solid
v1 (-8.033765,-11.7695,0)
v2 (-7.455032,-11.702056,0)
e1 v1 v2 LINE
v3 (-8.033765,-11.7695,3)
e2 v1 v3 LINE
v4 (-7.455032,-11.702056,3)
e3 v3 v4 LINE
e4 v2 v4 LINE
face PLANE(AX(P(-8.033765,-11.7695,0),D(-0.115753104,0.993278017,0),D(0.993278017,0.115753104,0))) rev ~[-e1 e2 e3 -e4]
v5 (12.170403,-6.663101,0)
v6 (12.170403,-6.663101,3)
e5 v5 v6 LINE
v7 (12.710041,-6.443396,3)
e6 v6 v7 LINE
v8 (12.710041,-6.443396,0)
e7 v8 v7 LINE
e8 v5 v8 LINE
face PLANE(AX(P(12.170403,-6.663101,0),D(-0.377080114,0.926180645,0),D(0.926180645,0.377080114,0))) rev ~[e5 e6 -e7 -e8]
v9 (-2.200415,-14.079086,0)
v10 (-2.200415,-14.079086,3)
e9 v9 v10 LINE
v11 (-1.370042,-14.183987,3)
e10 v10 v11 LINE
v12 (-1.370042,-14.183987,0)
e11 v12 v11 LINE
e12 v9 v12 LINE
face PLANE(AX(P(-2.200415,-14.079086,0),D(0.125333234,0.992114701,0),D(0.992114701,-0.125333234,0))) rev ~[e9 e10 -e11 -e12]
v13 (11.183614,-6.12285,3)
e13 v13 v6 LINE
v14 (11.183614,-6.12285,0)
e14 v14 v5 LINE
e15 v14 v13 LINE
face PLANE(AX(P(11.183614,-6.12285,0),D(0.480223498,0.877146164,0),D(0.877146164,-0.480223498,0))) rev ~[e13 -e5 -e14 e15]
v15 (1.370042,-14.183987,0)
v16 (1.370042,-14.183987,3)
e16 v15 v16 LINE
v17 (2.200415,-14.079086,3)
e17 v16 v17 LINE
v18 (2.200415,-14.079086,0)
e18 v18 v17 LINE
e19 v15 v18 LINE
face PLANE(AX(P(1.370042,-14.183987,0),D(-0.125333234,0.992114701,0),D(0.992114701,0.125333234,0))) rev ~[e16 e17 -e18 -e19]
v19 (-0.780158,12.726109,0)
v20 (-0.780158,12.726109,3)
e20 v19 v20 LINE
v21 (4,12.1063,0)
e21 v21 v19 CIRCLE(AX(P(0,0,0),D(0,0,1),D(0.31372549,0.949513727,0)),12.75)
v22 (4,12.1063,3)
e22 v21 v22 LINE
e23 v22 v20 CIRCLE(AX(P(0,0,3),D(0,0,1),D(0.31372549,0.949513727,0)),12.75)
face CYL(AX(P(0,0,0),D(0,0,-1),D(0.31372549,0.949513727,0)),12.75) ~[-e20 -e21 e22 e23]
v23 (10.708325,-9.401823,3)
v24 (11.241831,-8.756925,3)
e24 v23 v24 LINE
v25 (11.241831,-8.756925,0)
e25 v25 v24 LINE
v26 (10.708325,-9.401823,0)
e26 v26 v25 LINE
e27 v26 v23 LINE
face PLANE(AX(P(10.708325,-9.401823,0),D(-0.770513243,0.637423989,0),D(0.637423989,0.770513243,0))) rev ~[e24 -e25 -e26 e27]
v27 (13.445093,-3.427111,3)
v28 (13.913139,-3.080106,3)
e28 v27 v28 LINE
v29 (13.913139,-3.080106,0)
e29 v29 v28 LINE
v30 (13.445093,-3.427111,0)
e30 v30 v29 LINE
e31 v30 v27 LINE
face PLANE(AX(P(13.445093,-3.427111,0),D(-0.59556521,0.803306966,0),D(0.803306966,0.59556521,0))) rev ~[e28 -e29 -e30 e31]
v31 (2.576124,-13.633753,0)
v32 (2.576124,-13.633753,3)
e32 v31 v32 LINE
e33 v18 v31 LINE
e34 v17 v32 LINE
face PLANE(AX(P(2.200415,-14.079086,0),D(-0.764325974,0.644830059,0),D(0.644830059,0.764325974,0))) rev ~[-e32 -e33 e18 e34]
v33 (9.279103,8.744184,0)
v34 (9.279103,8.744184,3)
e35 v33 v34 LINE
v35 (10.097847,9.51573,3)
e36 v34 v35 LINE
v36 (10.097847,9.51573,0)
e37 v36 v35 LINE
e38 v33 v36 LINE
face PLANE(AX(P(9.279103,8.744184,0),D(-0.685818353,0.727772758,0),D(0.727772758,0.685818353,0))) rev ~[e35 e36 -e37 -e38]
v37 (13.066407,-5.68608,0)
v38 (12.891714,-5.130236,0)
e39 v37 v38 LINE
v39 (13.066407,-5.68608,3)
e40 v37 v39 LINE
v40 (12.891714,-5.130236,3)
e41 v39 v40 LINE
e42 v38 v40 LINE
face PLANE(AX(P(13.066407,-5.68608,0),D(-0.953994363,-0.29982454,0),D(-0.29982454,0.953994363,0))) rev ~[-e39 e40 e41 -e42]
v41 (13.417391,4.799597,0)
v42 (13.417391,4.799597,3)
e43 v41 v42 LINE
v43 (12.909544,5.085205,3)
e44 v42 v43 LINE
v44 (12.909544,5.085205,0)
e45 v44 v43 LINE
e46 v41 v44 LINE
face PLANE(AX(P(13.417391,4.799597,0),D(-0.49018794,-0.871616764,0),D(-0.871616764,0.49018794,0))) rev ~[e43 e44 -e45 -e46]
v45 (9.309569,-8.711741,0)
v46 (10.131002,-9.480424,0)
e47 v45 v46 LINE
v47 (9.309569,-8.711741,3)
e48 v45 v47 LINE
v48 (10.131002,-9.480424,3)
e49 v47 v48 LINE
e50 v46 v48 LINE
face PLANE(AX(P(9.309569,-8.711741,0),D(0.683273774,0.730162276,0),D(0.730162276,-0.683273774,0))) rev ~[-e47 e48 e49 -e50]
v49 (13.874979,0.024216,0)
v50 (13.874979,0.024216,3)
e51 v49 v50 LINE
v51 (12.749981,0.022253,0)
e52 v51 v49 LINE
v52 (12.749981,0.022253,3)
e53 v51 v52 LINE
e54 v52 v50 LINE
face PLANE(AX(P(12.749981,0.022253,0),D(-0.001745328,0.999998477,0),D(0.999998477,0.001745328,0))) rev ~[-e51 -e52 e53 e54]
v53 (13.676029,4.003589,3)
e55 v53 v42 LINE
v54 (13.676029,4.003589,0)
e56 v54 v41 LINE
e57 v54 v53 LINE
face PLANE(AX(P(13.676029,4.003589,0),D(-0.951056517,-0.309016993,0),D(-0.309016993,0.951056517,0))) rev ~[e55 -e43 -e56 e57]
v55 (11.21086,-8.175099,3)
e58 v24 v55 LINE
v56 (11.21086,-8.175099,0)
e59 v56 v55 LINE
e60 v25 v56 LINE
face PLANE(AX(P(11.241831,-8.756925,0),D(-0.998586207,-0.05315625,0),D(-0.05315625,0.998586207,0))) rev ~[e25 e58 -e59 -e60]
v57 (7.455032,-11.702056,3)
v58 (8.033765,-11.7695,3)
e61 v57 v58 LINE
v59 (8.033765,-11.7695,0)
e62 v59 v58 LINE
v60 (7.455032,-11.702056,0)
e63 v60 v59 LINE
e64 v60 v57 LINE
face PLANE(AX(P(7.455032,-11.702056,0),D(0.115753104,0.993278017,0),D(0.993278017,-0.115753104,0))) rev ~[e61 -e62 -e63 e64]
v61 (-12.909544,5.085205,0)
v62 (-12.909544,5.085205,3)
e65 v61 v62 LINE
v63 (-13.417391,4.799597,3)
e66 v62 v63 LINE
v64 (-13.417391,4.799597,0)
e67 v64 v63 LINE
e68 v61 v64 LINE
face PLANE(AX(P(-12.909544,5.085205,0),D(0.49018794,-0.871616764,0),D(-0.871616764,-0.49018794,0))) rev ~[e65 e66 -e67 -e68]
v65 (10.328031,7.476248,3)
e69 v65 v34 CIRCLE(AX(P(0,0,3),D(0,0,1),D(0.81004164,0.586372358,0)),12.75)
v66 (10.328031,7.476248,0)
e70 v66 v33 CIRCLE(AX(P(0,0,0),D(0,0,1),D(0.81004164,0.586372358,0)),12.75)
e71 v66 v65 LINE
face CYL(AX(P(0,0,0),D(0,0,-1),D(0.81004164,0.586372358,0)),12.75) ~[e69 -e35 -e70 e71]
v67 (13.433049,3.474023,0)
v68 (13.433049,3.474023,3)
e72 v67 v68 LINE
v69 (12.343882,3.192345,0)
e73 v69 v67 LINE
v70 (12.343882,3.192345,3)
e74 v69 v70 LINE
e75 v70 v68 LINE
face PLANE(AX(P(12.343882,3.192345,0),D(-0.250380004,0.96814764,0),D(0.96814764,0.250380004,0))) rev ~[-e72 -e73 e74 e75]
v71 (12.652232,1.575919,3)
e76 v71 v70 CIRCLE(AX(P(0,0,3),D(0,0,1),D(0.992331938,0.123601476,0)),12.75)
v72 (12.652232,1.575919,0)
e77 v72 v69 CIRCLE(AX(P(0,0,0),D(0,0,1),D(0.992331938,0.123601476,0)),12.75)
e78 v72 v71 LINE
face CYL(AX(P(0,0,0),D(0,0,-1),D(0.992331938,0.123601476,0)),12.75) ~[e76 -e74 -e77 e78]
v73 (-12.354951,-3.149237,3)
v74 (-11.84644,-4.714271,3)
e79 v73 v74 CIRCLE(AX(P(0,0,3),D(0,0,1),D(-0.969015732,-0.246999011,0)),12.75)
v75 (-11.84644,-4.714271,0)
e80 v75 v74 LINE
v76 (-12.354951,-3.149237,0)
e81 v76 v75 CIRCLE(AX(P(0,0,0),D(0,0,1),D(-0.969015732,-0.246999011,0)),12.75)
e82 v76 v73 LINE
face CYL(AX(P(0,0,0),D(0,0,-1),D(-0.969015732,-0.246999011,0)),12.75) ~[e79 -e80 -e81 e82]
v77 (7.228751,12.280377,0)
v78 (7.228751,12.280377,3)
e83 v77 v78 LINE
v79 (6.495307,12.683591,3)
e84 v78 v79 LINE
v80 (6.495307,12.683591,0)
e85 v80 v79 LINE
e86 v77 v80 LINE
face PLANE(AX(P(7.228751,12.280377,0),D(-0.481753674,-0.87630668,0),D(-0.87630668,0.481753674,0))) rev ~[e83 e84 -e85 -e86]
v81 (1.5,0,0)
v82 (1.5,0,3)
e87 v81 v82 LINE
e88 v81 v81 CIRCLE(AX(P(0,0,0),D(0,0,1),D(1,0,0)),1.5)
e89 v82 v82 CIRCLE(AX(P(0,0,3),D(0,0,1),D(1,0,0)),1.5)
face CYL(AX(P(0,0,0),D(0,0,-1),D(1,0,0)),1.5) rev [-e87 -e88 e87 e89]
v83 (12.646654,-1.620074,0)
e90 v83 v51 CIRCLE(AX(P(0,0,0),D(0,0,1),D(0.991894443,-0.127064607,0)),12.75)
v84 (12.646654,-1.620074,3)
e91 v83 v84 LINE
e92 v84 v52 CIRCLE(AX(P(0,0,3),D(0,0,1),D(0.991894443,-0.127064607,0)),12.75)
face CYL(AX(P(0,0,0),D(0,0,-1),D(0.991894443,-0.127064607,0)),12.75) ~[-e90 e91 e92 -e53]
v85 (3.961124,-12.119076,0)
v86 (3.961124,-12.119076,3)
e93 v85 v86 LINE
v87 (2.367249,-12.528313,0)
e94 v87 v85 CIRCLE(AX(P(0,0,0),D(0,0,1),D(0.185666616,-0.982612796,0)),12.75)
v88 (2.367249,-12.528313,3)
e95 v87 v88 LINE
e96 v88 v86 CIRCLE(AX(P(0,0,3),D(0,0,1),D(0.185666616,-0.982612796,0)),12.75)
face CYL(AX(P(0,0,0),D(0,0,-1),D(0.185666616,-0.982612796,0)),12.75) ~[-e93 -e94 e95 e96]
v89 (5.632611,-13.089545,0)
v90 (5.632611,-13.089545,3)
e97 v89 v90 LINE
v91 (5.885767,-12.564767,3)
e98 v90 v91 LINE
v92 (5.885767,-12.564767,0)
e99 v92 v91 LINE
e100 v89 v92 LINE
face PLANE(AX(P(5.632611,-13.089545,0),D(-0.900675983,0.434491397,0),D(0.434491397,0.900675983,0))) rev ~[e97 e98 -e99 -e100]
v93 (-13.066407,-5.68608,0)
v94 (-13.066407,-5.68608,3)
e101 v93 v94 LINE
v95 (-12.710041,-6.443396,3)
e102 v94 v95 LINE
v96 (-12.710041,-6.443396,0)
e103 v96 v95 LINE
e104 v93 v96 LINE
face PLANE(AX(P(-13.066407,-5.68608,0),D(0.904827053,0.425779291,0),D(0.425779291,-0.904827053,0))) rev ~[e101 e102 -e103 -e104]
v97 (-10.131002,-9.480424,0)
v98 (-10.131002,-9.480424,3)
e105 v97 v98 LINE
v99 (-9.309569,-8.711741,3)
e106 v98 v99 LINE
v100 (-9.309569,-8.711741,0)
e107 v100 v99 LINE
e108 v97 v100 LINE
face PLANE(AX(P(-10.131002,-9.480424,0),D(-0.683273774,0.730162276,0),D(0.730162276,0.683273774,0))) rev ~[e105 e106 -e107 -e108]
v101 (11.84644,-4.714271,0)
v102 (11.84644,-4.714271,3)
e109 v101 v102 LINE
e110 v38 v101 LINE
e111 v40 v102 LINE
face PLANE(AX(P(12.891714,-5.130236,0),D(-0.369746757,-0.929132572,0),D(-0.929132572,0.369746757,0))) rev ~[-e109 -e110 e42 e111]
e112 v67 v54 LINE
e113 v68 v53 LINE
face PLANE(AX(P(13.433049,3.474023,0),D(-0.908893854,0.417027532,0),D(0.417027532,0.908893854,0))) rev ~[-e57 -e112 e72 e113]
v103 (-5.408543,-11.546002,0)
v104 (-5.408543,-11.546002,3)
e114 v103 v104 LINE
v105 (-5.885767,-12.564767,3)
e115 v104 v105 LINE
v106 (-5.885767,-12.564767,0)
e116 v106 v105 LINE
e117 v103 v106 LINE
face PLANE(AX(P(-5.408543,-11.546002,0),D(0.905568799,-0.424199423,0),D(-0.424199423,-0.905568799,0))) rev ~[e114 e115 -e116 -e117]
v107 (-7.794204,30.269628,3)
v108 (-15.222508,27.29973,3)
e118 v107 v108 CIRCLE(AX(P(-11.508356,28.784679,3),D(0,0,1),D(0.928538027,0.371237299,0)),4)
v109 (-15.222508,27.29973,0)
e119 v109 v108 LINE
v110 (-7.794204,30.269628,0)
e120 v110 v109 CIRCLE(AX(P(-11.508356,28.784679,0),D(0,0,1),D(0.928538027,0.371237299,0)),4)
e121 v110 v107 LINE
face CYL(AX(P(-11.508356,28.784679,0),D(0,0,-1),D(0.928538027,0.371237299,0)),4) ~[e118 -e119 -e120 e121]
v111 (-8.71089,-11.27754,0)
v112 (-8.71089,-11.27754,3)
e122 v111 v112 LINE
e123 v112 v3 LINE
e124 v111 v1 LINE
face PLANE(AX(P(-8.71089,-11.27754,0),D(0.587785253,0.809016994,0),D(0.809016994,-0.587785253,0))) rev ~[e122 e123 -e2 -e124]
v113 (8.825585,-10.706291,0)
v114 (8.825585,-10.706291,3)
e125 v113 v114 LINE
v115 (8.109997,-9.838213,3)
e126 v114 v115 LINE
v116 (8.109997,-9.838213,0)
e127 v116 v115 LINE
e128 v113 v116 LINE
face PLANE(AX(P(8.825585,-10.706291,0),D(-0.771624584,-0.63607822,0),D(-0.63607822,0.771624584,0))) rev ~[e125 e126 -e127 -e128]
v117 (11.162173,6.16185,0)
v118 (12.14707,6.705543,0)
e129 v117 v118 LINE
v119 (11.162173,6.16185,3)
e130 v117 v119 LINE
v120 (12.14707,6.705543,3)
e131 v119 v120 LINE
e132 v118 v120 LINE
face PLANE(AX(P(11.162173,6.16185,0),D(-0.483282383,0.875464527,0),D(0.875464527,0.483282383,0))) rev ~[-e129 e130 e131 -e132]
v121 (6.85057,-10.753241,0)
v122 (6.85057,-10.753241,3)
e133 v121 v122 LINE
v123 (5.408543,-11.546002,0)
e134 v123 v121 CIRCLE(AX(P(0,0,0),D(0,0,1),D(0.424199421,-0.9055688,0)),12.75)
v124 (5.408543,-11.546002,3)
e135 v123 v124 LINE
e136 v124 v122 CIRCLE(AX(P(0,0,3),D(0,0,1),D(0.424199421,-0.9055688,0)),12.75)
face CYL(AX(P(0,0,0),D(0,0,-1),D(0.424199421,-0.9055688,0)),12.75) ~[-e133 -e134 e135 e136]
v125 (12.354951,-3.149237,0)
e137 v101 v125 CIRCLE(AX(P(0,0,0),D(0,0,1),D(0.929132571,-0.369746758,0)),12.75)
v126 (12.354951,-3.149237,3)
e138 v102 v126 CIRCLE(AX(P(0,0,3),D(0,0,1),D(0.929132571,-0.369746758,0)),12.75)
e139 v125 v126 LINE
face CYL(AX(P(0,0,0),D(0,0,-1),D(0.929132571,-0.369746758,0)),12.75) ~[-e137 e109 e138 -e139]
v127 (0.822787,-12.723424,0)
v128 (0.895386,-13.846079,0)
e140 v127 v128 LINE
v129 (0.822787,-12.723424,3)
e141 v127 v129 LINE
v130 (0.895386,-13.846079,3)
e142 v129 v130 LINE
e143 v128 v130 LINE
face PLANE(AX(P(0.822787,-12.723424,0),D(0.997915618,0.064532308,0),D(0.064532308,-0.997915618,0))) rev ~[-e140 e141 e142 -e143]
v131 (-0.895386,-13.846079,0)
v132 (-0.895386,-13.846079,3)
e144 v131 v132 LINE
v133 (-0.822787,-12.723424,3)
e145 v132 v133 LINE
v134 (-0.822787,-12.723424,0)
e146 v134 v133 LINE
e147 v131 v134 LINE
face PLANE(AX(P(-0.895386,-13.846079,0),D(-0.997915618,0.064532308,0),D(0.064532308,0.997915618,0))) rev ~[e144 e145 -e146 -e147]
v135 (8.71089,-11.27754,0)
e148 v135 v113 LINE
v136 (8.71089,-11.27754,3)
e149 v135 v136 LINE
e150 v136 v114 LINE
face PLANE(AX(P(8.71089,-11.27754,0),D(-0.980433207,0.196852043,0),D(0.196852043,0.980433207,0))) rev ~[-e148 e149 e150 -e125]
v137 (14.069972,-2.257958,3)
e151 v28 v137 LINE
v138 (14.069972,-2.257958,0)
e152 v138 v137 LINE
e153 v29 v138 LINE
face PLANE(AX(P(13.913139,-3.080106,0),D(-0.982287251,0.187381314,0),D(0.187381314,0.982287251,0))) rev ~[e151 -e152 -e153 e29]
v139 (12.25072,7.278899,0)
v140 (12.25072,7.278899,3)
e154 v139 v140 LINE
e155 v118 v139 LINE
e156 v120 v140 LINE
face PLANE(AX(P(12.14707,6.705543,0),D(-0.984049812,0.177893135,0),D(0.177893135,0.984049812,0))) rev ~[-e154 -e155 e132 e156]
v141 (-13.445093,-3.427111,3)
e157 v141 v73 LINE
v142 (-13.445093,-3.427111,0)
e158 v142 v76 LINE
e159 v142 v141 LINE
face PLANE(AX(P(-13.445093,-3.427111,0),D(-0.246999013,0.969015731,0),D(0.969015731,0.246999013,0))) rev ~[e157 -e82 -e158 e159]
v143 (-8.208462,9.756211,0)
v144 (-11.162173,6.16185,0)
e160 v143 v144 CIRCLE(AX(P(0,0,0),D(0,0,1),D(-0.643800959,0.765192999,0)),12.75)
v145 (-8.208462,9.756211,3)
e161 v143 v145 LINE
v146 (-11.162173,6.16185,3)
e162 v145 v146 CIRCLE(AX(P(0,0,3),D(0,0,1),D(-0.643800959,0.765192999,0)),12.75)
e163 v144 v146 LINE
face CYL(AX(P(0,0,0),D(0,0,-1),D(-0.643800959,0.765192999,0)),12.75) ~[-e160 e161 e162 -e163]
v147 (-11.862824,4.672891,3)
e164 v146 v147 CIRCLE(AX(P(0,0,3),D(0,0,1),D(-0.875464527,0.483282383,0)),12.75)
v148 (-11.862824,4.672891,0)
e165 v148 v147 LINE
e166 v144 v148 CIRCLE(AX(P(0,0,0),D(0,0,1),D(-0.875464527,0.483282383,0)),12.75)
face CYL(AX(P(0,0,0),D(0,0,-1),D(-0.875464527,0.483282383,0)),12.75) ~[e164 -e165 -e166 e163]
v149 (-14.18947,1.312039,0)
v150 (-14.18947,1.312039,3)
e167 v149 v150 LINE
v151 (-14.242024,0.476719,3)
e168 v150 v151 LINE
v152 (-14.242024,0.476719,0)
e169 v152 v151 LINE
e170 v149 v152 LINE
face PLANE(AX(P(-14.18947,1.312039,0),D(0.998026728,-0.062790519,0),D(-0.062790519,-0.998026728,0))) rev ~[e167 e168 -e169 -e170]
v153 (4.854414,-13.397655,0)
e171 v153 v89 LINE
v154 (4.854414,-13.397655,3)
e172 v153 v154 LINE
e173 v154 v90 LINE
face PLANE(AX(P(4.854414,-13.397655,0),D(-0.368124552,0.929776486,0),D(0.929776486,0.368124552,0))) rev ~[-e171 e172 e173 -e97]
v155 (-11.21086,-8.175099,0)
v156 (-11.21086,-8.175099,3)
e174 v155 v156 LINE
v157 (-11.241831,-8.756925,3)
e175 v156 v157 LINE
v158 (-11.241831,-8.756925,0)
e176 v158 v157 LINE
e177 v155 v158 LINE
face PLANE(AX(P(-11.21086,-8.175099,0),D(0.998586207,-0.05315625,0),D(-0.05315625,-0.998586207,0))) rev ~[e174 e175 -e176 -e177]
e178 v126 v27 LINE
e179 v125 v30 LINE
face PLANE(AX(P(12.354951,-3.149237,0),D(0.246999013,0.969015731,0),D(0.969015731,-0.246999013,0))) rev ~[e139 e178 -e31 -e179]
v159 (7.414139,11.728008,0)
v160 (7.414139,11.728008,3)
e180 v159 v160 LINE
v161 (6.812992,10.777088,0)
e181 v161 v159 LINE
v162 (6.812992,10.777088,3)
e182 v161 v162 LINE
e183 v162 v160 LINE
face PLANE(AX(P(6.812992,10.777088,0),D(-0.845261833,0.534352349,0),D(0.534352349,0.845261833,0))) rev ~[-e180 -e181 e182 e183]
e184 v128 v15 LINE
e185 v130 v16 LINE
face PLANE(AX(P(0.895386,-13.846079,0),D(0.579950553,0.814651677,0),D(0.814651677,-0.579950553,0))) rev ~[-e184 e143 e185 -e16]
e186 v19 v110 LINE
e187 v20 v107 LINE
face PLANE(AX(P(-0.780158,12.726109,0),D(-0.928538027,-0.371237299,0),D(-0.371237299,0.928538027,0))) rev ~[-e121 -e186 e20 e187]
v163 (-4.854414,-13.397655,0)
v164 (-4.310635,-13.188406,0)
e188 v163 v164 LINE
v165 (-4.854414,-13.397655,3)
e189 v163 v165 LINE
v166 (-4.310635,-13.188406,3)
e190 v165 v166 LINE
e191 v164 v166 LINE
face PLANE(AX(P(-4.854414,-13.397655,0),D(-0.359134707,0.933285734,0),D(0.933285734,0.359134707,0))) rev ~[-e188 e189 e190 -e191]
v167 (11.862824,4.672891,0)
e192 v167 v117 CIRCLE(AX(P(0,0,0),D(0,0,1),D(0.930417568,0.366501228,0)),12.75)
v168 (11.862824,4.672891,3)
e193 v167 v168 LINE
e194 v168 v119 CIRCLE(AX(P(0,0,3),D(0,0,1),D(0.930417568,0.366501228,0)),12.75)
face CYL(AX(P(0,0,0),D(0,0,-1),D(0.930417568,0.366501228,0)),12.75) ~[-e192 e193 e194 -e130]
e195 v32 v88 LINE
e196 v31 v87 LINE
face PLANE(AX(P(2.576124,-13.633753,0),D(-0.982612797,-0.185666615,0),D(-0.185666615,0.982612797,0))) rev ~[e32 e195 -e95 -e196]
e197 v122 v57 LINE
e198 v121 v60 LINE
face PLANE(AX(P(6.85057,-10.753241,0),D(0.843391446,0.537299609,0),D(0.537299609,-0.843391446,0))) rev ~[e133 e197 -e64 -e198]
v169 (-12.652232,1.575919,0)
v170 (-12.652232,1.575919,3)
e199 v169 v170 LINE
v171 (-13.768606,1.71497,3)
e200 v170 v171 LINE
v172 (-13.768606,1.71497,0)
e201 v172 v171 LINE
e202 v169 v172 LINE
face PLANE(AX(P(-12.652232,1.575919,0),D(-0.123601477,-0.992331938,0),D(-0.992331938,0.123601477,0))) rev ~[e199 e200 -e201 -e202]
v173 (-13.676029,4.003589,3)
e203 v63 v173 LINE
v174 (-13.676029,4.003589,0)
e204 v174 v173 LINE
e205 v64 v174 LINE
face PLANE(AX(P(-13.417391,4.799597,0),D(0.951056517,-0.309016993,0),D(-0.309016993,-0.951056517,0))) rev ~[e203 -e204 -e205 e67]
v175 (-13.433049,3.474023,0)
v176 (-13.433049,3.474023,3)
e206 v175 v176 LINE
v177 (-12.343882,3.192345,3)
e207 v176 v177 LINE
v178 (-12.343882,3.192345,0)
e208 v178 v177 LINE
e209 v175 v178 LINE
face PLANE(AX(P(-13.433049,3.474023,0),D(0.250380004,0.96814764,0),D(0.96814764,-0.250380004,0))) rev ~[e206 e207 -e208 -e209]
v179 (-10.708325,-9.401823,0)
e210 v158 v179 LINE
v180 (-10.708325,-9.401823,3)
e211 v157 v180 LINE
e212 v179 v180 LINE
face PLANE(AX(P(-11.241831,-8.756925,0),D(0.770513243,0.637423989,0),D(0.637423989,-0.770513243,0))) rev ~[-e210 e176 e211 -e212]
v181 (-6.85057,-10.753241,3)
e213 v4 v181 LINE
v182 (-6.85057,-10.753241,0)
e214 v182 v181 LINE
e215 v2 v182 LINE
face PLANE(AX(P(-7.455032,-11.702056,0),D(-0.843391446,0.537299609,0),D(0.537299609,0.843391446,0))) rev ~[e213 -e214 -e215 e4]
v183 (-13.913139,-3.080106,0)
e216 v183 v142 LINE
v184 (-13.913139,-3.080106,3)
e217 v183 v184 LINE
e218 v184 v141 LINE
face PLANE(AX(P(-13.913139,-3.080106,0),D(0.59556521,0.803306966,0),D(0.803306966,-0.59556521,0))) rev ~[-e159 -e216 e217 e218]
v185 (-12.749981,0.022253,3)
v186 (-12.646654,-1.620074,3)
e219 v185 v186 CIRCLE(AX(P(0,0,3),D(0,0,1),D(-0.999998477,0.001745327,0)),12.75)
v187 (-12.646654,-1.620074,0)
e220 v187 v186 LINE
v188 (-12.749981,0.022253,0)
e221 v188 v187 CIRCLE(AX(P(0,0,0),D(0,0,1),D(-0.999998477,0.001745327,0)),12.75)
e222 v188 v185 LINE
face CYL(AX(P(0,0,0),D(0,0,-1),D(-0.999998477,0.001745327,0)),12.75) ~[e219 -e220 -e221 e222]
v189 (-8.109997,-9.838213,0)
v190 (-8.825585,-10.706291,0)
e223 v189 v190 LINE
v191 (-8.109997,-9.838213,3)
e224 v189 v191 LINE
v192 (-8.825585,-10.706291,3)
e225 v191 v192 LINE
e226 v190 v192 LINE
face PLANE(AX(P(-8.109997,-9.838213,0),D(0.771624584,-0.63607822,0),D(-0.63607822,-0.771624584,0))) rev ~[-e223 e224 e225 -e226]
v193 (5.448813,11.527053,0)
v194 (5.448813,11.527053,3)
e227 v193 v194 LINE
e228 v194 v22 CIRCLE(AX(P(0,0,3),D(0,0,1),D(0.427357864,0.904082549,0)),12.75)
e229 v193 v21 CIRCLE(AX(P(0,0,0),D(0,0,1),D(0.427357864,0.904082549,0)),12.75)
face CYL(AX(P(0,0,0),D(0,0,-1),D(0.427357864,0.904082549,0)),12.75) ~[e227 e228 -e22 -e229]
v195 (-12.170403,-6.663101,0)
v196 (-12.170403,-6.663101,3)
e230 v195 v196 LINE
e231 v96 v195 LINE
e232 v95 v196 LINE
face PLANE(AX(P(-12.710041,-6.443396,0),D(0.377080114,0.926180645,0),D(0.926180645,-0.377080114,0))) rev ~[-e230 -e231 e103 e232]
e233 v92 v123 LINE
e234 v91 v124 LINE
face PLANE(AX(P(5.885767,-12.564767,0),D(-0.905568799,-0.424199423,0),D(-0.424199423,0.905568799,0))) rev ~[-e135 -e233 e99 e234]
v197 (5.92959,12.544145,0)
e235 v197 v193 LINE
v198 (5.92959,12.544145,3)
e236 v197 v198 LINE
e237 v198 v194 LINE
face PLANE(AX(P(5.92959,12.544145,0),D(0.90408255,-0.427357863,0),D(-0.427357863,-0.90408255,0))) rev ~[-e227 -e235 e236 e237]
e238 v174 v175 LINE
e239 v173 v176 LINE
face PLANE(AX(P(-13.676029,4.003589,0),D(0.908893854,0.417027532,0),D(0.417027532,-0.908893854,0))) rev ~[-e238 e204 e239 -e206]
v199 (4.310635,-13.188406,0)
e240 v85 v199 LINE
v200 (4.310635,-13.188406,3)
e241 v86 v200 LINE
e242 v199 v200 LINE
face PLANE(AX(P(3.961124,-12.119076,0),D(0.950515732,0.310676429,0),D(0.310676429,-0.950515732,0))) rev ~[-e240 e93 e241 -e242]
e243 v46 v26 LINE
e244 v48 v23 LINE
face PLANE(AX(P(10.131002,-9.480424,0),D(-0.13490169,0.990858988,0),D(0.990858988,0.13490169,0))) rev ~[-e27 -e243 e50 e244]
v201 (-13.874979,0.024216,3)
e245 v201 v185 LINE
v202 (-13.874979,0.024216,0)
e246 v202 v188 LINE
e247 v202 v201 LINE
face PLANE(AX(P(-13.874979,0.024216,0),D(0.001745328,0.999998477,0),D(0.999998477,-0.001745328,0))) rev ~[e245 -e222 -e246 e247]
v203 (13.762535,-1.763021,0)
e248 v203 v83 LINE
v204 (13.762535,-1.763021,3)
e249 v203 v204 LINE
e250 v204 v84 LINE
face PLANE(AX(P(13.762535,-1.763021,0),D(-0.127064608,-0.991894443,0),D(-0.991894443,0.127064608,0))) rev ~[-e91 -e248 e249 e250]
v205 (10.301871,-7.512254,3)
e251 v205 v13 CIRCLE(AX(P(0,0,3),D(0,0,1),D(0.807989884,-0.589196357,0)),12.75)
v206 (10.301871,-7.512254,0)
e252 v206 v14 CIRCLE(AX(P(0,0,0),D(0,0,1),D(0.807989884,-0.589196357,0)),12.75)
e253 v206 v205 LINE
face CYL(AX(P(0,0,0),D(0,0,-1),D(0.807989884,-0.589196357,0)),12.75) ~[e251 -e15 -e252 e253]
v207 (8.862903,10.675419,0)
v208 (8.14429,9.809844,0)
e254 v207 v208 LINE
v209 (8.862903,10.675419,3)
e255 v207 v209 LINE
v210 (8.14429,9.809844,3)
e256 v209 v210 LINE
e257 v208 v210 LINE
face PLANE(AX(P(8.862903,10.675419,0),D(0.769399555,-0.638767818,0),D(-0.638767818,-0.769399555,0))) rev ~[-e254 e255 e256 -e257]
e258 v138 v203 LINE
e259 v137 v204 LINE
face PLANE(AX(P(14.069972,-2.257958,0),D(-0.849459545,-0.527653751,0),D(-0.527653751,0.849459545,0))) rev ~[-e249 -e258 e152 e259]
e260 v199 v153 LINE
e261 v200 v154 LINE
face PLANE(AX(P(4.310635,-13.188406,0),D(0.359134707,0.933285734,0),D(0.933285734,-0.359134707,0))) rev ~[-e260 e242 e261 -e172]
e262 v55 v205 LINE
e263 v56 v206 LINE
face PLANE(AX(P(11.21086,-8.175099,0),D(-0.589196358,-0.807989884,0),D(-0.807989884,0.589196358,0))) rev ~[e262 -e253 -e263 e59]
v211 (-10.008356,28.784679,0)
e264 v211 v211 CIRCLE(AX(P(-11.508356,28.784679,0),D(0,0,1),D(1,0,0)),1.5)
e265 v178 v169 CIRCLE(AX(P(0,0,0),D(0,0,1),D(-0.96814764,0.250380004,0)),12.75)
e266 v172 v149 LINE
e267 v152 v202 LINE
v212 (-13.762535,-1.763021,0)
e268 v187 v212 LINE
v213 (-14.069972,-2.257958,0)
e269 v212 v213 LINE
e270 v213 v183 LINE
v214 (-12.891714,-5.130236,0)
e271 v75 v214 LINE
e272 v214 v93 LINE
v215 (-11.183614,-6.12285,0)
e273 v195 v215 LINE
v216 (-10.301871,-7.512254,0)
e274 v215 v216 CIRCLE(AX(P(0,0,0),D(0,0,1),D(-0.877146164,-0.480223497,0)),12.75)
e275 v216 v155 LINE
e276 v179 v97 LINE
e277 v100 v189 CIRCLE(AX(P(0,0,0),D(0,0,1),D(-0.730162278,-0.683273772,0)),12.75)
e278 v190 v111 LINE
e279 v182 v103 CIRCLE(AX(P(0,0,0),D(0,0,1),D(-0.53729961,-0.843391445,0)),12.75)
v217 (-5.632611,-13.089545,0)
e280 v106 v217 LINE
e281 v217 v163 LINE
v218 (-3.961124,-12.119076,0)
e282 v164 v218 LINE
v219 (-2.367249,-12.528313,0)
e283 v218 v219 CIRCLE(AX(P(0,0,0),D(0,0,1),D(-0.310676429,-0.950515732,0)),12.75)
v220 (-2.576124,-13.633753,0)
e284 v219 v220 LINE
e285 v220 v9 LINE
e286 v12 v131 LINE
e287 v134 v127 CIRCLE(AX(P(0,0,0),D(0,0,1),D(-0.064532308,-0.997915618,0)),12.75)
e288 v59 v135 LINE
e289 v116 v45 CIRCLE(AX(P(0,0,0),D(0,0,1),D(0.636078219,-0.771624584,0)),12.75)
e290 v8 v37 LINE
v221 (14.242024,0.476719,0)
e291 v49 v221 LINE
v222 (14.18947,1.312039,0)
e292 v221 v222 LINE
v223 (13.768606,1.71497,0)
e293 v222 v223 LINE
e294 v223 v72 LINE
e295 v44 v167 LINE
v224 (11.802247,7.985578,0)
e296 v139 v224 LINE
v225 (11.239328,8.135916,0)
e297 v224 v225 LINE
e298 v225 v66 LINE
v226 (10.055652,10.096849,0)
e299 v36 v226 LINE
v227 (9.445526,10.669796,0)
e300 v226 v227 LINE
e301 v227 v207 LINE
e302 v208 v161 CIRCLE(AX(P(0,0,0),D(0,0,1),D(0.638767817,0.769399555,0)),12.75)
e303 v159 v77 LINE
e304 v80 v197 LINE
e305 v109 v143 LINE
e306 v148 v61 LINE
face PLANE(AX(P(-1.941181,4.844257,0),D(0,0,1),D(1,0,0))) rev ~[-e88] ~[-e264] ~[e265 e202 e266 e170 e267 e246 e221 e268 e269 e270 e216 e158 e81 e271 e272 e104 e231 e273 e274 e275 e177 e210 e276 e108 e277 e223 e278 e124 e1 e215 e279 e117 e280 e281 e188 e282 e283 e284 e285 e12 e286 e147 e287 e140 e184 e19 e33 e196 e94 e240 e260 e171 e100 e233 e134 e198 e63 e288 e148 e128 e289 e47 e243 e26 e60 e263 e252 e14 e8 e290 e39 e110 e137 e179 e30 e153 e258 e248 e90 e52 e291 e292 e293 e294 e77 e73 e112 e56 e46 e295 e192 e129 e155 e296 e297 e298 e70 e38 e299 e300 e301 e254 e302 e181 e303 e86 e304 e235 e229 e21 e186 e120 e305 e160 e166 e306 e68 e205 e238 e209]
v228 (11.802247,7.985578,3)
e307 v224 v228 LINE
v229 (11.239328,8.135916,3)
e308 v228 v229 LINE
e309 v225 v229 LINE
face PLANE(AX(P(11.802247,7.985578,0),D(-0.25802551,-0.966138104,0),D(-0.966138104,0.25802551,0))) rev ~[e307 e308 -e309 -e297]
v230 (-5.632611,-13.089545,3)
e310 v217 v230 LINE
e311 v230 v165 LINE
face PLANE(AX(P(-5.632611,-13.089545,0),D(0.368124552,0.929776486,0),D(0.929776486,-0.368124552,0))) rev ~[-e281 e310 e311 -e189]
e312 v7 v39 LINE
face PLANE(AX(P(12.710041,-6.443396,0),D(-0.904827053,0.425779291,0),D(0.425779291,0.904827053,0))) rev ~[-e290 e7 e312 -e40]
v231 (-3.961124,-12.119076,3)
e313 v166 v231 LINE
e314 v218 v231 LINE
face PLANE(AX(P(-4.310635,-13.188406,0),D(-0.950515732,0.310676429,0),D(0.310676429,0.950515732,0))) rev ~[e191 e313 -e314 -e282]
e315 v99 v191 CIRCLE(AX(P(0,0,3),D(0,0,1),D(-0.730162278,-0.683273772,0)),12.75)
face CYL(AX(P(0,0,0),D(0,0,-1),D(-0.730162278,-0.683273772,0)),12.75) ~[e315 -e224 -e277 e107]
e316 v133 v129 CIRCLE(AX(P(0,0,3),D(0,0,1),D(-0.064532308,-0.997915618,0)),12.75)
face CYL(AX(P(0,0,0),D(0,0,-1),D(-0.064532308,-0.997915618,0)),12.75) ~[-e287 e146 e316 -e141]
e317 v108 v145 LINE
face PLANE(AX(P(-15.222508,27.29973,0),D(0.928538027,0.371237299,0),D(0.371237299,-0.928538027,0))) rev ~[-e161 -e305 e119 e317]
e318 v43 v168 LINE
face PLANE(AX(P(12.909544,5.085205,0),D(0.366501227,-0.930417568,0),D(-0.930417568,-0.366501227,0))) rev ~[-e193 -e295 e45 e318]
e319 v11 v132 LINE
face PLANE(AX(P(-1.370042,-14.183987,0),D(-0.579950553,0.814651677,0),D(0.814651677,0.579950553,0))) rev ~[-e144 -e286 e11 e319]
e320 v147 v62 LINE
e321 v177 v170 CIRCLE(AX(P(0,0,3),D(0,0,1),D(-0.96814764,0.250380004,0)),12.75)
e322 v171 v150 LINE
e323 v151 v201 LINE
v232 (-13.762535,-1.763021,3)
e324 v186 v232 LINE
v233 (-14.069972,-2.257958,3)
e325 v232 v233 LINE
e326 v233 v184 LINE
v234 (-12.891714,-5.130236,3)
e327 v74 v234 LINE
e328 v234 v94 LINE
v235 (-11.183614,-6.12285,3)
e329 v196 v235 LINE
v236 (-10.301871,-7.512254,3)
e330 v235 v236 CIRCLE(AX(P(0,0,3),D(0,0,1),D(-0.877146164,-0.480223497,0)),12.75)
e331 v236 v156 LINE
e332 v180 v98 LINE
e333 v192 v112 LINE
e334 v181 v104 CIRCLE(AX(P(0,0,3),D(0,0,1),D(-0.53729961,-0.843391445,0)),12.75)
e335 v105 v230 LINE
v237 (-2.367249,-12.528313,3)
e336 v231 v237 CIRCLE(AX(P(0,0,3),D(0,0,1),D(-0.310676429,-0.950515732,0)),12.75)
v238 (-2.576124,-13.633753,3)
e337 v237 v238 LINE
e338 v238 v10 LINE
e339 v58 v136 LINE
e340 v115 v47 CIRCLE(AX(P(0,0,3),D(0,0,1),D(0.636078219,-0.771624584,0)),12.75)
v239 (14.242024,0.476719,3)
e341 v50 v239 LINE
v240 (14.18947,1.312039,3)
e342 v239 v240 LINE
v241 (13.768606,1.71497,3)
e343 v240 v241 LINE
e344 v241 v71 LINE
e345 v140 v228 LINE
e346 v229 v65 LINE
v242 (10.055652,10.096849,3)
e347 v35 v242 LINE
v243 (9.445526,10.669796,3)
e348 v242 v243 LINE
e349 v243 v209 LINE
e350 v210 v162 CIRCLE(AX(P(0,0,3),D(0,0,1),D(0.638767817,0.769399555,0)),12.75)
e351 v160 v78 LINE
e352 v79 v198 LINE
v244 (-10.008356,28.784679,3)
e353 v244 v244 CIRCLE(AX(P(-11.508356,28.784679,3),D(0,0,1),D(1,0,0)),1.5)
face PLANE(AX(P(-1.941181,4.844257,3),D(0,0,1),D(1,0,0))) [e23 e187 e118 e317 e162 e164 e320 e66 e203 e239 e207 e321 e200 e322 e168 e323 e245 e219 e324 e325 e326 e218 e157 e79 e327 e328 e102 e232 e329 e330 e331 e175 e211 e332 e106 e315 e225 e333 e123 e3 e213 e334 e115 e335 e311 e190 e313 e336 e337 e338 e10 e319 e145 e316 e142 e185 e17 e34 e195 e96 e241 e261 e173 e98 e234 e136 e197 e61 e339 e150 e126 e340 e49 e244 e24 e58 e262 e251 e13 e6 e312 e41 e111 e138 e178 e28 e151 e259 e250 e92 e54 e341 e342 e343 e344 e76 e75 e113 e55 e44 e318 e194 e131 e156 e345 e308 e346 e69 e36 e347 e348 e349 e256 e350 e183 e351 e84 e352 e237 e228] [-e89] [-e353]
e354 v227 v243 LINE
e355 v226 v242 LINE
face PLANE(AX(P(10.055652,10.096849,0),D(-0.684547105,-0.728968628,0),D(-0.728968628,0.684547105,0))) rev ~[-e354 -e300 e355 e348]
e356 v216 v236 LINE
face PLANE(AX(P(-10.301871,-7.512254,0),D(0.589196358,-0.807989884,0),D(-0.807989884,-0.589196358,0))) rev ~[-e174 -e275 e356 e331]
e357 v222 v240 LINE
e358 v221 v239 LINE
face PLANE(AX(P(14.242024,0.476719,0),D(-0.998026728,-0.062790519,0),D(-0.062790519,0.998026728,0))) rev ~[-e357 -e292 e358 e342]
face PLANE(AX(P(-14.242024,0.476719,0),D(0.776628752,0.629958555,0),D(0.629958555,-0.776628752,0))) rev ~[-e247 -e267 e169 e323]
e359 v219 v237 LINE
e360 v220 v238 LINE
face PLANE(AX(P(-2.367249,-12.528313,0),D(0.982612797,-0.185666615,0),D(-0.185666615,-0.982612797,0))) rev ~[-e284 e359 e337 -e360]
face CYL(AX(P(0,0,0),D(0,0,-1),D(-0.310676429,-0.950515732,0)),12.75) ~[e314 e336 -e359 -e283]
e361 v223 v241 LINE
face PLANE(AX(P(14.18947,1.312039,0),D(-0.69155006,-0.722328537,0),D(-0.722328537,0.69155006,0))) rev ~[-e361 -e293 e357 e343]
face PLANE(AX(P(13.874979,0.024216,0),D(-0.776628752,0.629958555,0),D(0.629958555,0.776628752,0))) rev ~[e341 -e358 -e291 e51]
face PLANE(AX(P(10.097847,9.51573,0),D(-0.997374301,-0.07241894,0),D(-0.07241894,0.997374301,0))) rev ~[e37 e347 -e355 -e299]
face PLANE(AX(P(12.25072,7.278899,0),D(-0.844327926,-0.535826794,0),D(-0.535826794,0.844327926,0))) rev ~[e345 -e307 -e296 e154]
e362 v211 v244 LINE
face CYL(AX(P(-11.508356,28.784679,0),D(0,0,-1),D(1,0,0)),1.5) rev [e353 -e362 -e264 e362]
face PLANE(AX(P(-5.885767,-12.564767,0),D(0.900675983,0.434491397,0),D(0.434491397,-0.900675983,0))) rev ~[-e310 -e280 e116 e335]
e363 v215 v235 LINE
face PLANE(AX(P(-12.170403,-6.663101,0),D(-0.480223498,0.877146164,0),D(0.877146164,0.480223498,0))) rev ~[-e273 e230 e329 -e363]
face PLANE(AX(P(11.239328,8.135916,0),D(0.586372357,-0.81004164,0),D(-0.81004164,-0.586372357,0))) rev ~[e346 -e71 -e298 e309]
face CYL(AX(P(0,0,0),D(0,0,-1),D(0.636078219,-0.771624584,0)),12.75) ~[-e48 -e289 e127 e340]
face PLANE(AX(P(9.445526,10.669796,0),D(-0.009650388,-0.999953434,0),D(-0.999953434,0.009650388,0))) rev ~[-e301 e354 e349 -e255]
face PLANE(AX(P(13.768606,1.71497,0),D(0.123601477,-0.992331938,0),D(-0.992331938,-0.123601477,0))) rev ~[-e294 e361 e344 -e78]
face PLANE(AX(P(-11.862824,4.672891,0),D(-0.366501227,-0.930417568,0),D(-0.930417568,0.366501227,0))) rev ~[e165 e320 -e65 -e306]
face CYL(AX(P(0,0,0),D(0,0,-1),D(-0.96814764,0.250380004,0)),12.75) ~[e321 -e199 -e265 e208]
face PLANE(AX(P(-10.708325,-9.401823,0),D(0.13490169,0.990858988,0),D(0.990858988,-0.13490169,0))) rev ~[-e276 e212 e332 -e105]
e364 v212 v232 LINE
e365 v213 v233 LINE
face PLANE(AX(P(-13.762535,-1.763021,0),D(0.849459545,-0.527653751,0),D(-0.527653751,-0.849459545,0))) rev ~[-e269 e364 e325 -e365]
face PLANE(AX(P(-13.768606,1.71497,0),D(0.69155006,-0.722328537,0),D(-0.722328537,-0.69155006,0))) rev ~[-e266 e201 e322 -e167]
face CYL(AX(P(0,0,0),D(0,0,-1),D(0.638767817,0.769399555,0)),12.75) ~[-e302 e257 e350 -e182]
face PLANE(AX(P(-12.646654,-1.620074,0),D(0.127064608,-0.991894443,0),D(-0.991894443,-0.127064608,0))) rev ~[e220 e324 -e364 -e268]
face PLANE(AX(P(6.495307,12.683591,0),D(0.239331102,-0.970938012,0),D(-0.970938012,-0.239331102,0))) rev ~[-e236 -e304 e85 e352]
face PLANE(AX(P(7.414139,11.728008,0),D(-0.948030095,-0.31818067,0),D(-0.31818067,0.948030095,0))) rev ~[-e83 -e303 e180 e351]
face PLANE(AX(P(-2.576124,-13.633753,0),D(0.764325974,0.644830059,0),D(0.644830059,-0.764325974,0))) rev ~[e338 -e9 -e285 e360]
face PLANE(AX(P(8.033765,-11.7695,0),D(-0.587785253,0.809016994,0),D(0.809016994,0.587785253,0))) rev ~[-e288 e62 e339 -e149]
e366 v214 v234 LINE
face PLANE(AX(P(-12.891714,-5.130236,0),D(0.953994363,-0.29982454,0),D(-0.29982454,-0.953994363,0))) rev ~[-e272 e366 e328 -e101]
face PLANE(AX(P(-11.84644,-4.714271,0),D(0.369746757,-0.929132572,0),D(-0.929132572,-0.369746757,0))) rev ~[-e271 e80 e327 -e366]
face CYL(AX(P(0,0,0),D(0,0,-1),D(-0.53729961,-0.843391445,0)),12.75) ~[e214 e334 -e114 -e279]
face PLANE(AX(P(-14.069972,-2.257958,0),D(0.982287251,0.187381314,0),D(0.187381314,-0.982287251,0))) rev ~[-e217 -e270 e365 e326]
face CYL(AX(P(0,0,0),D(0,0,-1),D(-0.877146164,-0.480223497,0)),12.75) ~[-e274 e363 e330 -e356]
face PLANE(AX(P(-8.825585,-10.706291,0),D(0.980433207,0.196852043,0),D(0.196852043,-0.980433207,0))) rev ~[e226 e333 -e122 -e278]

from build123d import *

# Parameters (mm, degrees)
SKETCH1_R           = 1.5
BOSS_EXTRUDE2_DEPTH = 3


with BuildPart() as part:
    # Sketch1 → Boss-Extrude2 (new body)
    with BuildSketch(Plane.XY):
        with BuildLine():
            Line((-15.222508379, 27.299729644), (-8.208462227, 9.756210733))
            ThreePointArc((-8.208462227, 9.756210733), (-9.850646229, 8.094891529), (-11.162172719, 6.161850387))
            ThreePointArc((-11.162172719, 6.161850387), (-11.536544919, 5.428685967), (-11.862823992, 4.672890641))
            Line((-11.862823992, 4.672890641), (-12.909543756, 5.085204521))
            Line((-12.909543756, 5.085204521), (-13.417390562, 4.799596912))
            Line((-13.417390562, 4.799596912), (-13.676029266, 4.003588828))
            Line((-13.676029266, 4.003588828), (-13.43304851, 3.474022556))
            Line((-13.43304851, 3.474022556), (-12.343882415, 3.192345052))
            ThreePointArc((-12.343882415, 3.192345052), (-12.524162447, 2.389111761), (-12.652232208, 1.575918828))
            Line((-12.652232208, 1.575918828), (-13.768605638, 1.71497049))
            Line((-13.768605638, 1.71497049), (-14.189469779, 1.312039404))
            Line((-14.189469779, 1.312039404), (-14.242023712, 0.476718548))
            Line((-14.242023712, 0.476718548), (-13.874978867, 0.024216431))
            Line((-13.874978867, 0.024216431), (-12.749980581, 0.022252937))
            ThreePointArc((-12.749980581, 0.022252937), (-12.724840787, -0.800579124), (-12.646654143, -1.62007376))
            Line((-12.646654143, -1.62007376), (-13.762535391, -1.763021444))
            Line((-13.762535391, -1.763021444), (-14.069972424, -2.257958364))
            Line((-14.069972424, -2.257958364), (-13.91313943, -3.080105712))
            Line((-13.91313943, -3.080105712), (-13.445093273, -3.427111302))
            Line((-13.445093273, -3.427111302), (-12.354950575, -3.149237412))
            ThreePointArc((-12.354950575, -3.149237412), (-12.125970583, -3.939966678), (-11.846440287, -4.714271155))
            Line((-11.846440287, -4.714271155), (-12.89171443, -5.130236257))
            Line((-12.89171443, -5.130236257), (-13.066406957, -5.686080305))
            Line((-13.066406957, -5.686080305), (-12.710041429, -6.443395602))
            Line((-12.710041429, -6.443395602), (-12.170403021, -6.663101027))
            Line((-12.170403021, -6.663101027), (-11.183613587, -6.122849592))
            ThreePointArc((-11.183613587, -6.122849592), (-10.76518105, -6.831791636), (-10.30187102, -7.512253556))
            Line((-10.30187102, -7.512253556), (-11.210859639, -8.175099458))
            Line((-11.210859639, -8.175099458), (-11.241831085, -8.756924908))
            Line((-11.241831085, -8.756924908), (-10.70832478, -9.401823249))
            Line((-10.70832478, -9.401823249), (-10.131001588, -9.48042361))
            Line((-10.131001588, -9.48042361), (-9.309569027, -8.711740614))
            ThreePointArc((-9.309569027, -8.711740614), (-8.727975601, -9.29435), (-8.109997309, -9.838213438))
            Line((-8.109997309, -9.838213438), (-8.825585306, -10.706291095))
            Line((-8.825585306, -10.706291095), (-8.710889622, -11.277539713))
            Line((-8.710889622, -11.277539713), (-8.033764703, -11.769499764))
            Line((-8.033764703, -11.769499764), (-7.455032066, -11.702056311))
            Line((-7.455032066, -11.702056311), (-6.850570006, -10.753240934))
            ThreePointArc((-6.850570006, -10.753240934), (-6.142359345, -11.172910171), (-5.40854264, -11.546002187))
            Line((-5.40854264, -11.546002187), (-5.885766991, -12.564767086))
            Line((-5.885766991, -12.564767086), (-5.632610928, -13.089545223))
            Line((-5.632610928, -13.089545223), (-4.854413643, -13.397655324))
            Line((-4.854413643, -13.397655324), (-4.310635461, -13.188405776))
            Line((-4.310635461, -13.188405776), (-3.961124478, -12.119075578))
            ThreePointArc((-3.961124478, -12.119075578), (-3.170796061, -12.349435304), (-2.367249346, -12.528313156))
            Line((-2.367249346, -12.528313156), (-2.576124288, -13.633752552))
            Line((-2.576124288, -13.633752552), (-2.200414573, -14.079086466))
            Line((-2.200414573, -14.079086466), (-1.370041921, -14.183986927))
            Line((-1.370041921, -14.183986927), (-0.895385777, -13.846079204))
            Line((-0.895385777, -13.846079204), (-0.82278693, -12.723424133))
            ThreePointArc((-0.82278693, -12.723424133), (0, -12.75), (0.82278693, -12.723424133))
            Line((0.82278693, -12.723424133), (0.895385777, -13.846079204))
            Line((0.895385777, -13.846079204), (1.370041921, -14.183986927))
            Line((1.370041921, -14.183986927), (2.200414573, -14.079086466))
            Line((2.200414573, -14.079086466), (2.576124288, -13.633752552))
            Line((2.576124288, -13.633752552), (2.367249346, -12.528313156))
            ThreePointArc((2.367249346, -12.528313156), (3.170796061, -12.349435304), (3.961124478, -12.119075578))
            Line((3.961124478, -12.119075578), (4.310635461, -13.188405776))
            Line((4.310635461, -13.188405776), (4.854413643, -13.397655324))
            Line((4.854413643, -13.397655324), (5.632610928, -13.089545223))
            Line((5.632610928, -13.089545223), (5.885766991, -12.564767086))
            Line((5.885766991, -12.564767086), (5.40854264, -11.546002187))
            ThreePointArc((5.40854264, -11.546002187), (6.142359345, -11.172910171), (6.850570006, -10.753240934))
            Line((6.850570006, -10.753240934), (7.455032066, -11.702056311))
            Line((7.455032066, -11.702056311), (8.033764703, -11.769499764))
            Line((8.033764703, -11.769499764), (8.710889622, -11.277539713))
            Line((8.710889622, -11.277539713), (8.825585306, -10.706291095))
            Line((8.825585306, -10.706291095), (8.109997309, -9.838213438))
            ThreePointArc((8.109997309, -9.838213438), (8.727975601, -9.29435), (9.309569027, -8.711740614))
            Line((9.309569027, -8.711740614), (10.131001588, -9.48042361))
            Line((10.131001588, -9.48042361), (10.70832478, -9.401823249))
            Line((10.70832478, -9.401823249), (11.241831085, -8.756924908))
            Line((11.241831085, -8.756924908), (11.210859639, -8.175099458))
            Line((11.210859639, -8.175099458), (10.30187102, -7.512253556))
            ThreePointArc((10.30187102, -7.512253556), (10.76518105, -6.831791636), (11.183613587, -6.122849592))
            Line((11.183613587, -6.122849592), (12.170403021, -6.663101027))
            Line((12.170403021, -6.663101027), (12.710041429, -6.443395602))
            Line((12.710041429, -6.443395602), (13.066406957, -5.686080305))
            Line((13.066406957, -5.686080305), (12.89171443, -5.130236257))
            Line((12.89171443, -5.130236257), (11.846440287, -4.714271155))
            ThreePointArc((11.846440287, -4.714271155), (12.125970583, -3.939966678), (12.354950575, -3.149237412))
            Line((12.354950575, -3.149237412), (13.445093273, -3.427111302))
            Line((13.445093273, -3.427111302), (13.91313943, -3.080105712))
            Line((13.91313943, -3.080105712), (14.069972424, -2.257958364))
            Line((14.069972424, -2.257958364), (13.762535391, -1.763021444))
            Line((13.762535391, -1.763021444), (12.646654143, -1.62007376))
            ThreePointArc((12.646654143, -1.62007376), (12.724840787, -0.800579124), (12.749980581, 0.022252937))
            Line((12.749980581, 0.022252937), (13.874978867, 0.024216431))
            Line((13.874978867, 0.024216431), (14.242023712, 0.476718548))
            Line((14.242023712, 0.476718548), (14.189469779, 1.312039404))
            Line((14.189469779, 1.312039404), (13.768605638, 1.71497049))
            Line((13.768605638, 1.71497049), (12.652232208, 1.575918828))
            ThreePointArc((12.652232208, 1.575918828), (12.524162447, 2.389111761), (12.343882415, 3.192345052))
            Line((12.343882415, 3.192345052), (13.43304851, 3.474022556))
            Line((13.43304851, 3.474022556), (13.676029266, 4.003588828))
            Line((13.676029266, 4.003588828), (13.417390562, 4.799596912))
            Line((13.417390562, 4.799596912), (12.909543756, 5.085204521))
            Line((12.909543756, 5.085204521), (11.862823992, 4.672890641))
            ThreePointArc((11.862823992, 4.672890641), (11.536544919, 5.428685967), (11.162172719, 6.161850387))
            Line((11.162172719, 6.161850387), (12.147070312, 6.705543068))
            Line((12.147070312, 6.705543068), (12.250719604, 7.278898898))
            Line((12.250719604, 7.278898898), (11.80224735, 7.985578094))
            Line((11.80224735, 7.985578094), (11.239327761, 8.13591645))
            Line((11.239327761, 8.13591645), (10.328030916, 7.476247548))
            ThreePointArc((10.328030916, 7.476247548), (9.824043845, 8.127155869), (9.27910266, 8.744184))
            Line((9.27910266, 8.744184), (10.097847012, 9.515729647))
            Line((10.097847012, 9.515729647), (10.055652175, 10.096848981))
            Line((10.055652175, 10.096848981), (9.445525531, 10.669796035))
            Line((9.445525531, 10.669796035), (8.862903468, 10.675418826))
            Line((8.862903468, 10.675418826), (8.144289673, 9.809844327))
            ThreePointArc((8.144289673, 9.809844327), (7.494261967, 10.314966678), (6.812992455, 10.777088374))
            Line((6.812992455, 10.777088374), (7.414138848, 11.728007936))
            Line((7.414138848, 11.728007936), (7.228751137, 12.280376908))
            Line((7.228751137, 12.280376908), (6.495306606, 12.683591451))
            Line((6.495306606, 12.683591451), (5.929590354, 12.544145377))
            Line((5.929590354, 12.544145377), (5.448812758, 11.527052508))
            ThreePointArc((5.448812758, 11.527052508), (4.733275563, 11.838859846), (4, 12.106300013))
            ThreePointArc((4, 12.106300013), (1.639477491, 12.644153335), (-0.78015801, 12.726109126))
            Line((-0.78015801, 12.726109126), (-7.794204162, 30.269628037))
            ThreePointArc((-7.794204162, 30.269628037), (-12.993305466, 32.498830949), (-15.222508379, 27.299729644))
        make_face()
        Circle(SKETCH1_R, mode=Mode.SUBTRACT)
        with Locations((-11.50835627, 28.784678841)):
            Circle(SKETCH1_R, mode=Mode.SUBTRACT)
    extrude(amount=BOSS_EXTRUDE2_DEPTH)


solid = part.part
